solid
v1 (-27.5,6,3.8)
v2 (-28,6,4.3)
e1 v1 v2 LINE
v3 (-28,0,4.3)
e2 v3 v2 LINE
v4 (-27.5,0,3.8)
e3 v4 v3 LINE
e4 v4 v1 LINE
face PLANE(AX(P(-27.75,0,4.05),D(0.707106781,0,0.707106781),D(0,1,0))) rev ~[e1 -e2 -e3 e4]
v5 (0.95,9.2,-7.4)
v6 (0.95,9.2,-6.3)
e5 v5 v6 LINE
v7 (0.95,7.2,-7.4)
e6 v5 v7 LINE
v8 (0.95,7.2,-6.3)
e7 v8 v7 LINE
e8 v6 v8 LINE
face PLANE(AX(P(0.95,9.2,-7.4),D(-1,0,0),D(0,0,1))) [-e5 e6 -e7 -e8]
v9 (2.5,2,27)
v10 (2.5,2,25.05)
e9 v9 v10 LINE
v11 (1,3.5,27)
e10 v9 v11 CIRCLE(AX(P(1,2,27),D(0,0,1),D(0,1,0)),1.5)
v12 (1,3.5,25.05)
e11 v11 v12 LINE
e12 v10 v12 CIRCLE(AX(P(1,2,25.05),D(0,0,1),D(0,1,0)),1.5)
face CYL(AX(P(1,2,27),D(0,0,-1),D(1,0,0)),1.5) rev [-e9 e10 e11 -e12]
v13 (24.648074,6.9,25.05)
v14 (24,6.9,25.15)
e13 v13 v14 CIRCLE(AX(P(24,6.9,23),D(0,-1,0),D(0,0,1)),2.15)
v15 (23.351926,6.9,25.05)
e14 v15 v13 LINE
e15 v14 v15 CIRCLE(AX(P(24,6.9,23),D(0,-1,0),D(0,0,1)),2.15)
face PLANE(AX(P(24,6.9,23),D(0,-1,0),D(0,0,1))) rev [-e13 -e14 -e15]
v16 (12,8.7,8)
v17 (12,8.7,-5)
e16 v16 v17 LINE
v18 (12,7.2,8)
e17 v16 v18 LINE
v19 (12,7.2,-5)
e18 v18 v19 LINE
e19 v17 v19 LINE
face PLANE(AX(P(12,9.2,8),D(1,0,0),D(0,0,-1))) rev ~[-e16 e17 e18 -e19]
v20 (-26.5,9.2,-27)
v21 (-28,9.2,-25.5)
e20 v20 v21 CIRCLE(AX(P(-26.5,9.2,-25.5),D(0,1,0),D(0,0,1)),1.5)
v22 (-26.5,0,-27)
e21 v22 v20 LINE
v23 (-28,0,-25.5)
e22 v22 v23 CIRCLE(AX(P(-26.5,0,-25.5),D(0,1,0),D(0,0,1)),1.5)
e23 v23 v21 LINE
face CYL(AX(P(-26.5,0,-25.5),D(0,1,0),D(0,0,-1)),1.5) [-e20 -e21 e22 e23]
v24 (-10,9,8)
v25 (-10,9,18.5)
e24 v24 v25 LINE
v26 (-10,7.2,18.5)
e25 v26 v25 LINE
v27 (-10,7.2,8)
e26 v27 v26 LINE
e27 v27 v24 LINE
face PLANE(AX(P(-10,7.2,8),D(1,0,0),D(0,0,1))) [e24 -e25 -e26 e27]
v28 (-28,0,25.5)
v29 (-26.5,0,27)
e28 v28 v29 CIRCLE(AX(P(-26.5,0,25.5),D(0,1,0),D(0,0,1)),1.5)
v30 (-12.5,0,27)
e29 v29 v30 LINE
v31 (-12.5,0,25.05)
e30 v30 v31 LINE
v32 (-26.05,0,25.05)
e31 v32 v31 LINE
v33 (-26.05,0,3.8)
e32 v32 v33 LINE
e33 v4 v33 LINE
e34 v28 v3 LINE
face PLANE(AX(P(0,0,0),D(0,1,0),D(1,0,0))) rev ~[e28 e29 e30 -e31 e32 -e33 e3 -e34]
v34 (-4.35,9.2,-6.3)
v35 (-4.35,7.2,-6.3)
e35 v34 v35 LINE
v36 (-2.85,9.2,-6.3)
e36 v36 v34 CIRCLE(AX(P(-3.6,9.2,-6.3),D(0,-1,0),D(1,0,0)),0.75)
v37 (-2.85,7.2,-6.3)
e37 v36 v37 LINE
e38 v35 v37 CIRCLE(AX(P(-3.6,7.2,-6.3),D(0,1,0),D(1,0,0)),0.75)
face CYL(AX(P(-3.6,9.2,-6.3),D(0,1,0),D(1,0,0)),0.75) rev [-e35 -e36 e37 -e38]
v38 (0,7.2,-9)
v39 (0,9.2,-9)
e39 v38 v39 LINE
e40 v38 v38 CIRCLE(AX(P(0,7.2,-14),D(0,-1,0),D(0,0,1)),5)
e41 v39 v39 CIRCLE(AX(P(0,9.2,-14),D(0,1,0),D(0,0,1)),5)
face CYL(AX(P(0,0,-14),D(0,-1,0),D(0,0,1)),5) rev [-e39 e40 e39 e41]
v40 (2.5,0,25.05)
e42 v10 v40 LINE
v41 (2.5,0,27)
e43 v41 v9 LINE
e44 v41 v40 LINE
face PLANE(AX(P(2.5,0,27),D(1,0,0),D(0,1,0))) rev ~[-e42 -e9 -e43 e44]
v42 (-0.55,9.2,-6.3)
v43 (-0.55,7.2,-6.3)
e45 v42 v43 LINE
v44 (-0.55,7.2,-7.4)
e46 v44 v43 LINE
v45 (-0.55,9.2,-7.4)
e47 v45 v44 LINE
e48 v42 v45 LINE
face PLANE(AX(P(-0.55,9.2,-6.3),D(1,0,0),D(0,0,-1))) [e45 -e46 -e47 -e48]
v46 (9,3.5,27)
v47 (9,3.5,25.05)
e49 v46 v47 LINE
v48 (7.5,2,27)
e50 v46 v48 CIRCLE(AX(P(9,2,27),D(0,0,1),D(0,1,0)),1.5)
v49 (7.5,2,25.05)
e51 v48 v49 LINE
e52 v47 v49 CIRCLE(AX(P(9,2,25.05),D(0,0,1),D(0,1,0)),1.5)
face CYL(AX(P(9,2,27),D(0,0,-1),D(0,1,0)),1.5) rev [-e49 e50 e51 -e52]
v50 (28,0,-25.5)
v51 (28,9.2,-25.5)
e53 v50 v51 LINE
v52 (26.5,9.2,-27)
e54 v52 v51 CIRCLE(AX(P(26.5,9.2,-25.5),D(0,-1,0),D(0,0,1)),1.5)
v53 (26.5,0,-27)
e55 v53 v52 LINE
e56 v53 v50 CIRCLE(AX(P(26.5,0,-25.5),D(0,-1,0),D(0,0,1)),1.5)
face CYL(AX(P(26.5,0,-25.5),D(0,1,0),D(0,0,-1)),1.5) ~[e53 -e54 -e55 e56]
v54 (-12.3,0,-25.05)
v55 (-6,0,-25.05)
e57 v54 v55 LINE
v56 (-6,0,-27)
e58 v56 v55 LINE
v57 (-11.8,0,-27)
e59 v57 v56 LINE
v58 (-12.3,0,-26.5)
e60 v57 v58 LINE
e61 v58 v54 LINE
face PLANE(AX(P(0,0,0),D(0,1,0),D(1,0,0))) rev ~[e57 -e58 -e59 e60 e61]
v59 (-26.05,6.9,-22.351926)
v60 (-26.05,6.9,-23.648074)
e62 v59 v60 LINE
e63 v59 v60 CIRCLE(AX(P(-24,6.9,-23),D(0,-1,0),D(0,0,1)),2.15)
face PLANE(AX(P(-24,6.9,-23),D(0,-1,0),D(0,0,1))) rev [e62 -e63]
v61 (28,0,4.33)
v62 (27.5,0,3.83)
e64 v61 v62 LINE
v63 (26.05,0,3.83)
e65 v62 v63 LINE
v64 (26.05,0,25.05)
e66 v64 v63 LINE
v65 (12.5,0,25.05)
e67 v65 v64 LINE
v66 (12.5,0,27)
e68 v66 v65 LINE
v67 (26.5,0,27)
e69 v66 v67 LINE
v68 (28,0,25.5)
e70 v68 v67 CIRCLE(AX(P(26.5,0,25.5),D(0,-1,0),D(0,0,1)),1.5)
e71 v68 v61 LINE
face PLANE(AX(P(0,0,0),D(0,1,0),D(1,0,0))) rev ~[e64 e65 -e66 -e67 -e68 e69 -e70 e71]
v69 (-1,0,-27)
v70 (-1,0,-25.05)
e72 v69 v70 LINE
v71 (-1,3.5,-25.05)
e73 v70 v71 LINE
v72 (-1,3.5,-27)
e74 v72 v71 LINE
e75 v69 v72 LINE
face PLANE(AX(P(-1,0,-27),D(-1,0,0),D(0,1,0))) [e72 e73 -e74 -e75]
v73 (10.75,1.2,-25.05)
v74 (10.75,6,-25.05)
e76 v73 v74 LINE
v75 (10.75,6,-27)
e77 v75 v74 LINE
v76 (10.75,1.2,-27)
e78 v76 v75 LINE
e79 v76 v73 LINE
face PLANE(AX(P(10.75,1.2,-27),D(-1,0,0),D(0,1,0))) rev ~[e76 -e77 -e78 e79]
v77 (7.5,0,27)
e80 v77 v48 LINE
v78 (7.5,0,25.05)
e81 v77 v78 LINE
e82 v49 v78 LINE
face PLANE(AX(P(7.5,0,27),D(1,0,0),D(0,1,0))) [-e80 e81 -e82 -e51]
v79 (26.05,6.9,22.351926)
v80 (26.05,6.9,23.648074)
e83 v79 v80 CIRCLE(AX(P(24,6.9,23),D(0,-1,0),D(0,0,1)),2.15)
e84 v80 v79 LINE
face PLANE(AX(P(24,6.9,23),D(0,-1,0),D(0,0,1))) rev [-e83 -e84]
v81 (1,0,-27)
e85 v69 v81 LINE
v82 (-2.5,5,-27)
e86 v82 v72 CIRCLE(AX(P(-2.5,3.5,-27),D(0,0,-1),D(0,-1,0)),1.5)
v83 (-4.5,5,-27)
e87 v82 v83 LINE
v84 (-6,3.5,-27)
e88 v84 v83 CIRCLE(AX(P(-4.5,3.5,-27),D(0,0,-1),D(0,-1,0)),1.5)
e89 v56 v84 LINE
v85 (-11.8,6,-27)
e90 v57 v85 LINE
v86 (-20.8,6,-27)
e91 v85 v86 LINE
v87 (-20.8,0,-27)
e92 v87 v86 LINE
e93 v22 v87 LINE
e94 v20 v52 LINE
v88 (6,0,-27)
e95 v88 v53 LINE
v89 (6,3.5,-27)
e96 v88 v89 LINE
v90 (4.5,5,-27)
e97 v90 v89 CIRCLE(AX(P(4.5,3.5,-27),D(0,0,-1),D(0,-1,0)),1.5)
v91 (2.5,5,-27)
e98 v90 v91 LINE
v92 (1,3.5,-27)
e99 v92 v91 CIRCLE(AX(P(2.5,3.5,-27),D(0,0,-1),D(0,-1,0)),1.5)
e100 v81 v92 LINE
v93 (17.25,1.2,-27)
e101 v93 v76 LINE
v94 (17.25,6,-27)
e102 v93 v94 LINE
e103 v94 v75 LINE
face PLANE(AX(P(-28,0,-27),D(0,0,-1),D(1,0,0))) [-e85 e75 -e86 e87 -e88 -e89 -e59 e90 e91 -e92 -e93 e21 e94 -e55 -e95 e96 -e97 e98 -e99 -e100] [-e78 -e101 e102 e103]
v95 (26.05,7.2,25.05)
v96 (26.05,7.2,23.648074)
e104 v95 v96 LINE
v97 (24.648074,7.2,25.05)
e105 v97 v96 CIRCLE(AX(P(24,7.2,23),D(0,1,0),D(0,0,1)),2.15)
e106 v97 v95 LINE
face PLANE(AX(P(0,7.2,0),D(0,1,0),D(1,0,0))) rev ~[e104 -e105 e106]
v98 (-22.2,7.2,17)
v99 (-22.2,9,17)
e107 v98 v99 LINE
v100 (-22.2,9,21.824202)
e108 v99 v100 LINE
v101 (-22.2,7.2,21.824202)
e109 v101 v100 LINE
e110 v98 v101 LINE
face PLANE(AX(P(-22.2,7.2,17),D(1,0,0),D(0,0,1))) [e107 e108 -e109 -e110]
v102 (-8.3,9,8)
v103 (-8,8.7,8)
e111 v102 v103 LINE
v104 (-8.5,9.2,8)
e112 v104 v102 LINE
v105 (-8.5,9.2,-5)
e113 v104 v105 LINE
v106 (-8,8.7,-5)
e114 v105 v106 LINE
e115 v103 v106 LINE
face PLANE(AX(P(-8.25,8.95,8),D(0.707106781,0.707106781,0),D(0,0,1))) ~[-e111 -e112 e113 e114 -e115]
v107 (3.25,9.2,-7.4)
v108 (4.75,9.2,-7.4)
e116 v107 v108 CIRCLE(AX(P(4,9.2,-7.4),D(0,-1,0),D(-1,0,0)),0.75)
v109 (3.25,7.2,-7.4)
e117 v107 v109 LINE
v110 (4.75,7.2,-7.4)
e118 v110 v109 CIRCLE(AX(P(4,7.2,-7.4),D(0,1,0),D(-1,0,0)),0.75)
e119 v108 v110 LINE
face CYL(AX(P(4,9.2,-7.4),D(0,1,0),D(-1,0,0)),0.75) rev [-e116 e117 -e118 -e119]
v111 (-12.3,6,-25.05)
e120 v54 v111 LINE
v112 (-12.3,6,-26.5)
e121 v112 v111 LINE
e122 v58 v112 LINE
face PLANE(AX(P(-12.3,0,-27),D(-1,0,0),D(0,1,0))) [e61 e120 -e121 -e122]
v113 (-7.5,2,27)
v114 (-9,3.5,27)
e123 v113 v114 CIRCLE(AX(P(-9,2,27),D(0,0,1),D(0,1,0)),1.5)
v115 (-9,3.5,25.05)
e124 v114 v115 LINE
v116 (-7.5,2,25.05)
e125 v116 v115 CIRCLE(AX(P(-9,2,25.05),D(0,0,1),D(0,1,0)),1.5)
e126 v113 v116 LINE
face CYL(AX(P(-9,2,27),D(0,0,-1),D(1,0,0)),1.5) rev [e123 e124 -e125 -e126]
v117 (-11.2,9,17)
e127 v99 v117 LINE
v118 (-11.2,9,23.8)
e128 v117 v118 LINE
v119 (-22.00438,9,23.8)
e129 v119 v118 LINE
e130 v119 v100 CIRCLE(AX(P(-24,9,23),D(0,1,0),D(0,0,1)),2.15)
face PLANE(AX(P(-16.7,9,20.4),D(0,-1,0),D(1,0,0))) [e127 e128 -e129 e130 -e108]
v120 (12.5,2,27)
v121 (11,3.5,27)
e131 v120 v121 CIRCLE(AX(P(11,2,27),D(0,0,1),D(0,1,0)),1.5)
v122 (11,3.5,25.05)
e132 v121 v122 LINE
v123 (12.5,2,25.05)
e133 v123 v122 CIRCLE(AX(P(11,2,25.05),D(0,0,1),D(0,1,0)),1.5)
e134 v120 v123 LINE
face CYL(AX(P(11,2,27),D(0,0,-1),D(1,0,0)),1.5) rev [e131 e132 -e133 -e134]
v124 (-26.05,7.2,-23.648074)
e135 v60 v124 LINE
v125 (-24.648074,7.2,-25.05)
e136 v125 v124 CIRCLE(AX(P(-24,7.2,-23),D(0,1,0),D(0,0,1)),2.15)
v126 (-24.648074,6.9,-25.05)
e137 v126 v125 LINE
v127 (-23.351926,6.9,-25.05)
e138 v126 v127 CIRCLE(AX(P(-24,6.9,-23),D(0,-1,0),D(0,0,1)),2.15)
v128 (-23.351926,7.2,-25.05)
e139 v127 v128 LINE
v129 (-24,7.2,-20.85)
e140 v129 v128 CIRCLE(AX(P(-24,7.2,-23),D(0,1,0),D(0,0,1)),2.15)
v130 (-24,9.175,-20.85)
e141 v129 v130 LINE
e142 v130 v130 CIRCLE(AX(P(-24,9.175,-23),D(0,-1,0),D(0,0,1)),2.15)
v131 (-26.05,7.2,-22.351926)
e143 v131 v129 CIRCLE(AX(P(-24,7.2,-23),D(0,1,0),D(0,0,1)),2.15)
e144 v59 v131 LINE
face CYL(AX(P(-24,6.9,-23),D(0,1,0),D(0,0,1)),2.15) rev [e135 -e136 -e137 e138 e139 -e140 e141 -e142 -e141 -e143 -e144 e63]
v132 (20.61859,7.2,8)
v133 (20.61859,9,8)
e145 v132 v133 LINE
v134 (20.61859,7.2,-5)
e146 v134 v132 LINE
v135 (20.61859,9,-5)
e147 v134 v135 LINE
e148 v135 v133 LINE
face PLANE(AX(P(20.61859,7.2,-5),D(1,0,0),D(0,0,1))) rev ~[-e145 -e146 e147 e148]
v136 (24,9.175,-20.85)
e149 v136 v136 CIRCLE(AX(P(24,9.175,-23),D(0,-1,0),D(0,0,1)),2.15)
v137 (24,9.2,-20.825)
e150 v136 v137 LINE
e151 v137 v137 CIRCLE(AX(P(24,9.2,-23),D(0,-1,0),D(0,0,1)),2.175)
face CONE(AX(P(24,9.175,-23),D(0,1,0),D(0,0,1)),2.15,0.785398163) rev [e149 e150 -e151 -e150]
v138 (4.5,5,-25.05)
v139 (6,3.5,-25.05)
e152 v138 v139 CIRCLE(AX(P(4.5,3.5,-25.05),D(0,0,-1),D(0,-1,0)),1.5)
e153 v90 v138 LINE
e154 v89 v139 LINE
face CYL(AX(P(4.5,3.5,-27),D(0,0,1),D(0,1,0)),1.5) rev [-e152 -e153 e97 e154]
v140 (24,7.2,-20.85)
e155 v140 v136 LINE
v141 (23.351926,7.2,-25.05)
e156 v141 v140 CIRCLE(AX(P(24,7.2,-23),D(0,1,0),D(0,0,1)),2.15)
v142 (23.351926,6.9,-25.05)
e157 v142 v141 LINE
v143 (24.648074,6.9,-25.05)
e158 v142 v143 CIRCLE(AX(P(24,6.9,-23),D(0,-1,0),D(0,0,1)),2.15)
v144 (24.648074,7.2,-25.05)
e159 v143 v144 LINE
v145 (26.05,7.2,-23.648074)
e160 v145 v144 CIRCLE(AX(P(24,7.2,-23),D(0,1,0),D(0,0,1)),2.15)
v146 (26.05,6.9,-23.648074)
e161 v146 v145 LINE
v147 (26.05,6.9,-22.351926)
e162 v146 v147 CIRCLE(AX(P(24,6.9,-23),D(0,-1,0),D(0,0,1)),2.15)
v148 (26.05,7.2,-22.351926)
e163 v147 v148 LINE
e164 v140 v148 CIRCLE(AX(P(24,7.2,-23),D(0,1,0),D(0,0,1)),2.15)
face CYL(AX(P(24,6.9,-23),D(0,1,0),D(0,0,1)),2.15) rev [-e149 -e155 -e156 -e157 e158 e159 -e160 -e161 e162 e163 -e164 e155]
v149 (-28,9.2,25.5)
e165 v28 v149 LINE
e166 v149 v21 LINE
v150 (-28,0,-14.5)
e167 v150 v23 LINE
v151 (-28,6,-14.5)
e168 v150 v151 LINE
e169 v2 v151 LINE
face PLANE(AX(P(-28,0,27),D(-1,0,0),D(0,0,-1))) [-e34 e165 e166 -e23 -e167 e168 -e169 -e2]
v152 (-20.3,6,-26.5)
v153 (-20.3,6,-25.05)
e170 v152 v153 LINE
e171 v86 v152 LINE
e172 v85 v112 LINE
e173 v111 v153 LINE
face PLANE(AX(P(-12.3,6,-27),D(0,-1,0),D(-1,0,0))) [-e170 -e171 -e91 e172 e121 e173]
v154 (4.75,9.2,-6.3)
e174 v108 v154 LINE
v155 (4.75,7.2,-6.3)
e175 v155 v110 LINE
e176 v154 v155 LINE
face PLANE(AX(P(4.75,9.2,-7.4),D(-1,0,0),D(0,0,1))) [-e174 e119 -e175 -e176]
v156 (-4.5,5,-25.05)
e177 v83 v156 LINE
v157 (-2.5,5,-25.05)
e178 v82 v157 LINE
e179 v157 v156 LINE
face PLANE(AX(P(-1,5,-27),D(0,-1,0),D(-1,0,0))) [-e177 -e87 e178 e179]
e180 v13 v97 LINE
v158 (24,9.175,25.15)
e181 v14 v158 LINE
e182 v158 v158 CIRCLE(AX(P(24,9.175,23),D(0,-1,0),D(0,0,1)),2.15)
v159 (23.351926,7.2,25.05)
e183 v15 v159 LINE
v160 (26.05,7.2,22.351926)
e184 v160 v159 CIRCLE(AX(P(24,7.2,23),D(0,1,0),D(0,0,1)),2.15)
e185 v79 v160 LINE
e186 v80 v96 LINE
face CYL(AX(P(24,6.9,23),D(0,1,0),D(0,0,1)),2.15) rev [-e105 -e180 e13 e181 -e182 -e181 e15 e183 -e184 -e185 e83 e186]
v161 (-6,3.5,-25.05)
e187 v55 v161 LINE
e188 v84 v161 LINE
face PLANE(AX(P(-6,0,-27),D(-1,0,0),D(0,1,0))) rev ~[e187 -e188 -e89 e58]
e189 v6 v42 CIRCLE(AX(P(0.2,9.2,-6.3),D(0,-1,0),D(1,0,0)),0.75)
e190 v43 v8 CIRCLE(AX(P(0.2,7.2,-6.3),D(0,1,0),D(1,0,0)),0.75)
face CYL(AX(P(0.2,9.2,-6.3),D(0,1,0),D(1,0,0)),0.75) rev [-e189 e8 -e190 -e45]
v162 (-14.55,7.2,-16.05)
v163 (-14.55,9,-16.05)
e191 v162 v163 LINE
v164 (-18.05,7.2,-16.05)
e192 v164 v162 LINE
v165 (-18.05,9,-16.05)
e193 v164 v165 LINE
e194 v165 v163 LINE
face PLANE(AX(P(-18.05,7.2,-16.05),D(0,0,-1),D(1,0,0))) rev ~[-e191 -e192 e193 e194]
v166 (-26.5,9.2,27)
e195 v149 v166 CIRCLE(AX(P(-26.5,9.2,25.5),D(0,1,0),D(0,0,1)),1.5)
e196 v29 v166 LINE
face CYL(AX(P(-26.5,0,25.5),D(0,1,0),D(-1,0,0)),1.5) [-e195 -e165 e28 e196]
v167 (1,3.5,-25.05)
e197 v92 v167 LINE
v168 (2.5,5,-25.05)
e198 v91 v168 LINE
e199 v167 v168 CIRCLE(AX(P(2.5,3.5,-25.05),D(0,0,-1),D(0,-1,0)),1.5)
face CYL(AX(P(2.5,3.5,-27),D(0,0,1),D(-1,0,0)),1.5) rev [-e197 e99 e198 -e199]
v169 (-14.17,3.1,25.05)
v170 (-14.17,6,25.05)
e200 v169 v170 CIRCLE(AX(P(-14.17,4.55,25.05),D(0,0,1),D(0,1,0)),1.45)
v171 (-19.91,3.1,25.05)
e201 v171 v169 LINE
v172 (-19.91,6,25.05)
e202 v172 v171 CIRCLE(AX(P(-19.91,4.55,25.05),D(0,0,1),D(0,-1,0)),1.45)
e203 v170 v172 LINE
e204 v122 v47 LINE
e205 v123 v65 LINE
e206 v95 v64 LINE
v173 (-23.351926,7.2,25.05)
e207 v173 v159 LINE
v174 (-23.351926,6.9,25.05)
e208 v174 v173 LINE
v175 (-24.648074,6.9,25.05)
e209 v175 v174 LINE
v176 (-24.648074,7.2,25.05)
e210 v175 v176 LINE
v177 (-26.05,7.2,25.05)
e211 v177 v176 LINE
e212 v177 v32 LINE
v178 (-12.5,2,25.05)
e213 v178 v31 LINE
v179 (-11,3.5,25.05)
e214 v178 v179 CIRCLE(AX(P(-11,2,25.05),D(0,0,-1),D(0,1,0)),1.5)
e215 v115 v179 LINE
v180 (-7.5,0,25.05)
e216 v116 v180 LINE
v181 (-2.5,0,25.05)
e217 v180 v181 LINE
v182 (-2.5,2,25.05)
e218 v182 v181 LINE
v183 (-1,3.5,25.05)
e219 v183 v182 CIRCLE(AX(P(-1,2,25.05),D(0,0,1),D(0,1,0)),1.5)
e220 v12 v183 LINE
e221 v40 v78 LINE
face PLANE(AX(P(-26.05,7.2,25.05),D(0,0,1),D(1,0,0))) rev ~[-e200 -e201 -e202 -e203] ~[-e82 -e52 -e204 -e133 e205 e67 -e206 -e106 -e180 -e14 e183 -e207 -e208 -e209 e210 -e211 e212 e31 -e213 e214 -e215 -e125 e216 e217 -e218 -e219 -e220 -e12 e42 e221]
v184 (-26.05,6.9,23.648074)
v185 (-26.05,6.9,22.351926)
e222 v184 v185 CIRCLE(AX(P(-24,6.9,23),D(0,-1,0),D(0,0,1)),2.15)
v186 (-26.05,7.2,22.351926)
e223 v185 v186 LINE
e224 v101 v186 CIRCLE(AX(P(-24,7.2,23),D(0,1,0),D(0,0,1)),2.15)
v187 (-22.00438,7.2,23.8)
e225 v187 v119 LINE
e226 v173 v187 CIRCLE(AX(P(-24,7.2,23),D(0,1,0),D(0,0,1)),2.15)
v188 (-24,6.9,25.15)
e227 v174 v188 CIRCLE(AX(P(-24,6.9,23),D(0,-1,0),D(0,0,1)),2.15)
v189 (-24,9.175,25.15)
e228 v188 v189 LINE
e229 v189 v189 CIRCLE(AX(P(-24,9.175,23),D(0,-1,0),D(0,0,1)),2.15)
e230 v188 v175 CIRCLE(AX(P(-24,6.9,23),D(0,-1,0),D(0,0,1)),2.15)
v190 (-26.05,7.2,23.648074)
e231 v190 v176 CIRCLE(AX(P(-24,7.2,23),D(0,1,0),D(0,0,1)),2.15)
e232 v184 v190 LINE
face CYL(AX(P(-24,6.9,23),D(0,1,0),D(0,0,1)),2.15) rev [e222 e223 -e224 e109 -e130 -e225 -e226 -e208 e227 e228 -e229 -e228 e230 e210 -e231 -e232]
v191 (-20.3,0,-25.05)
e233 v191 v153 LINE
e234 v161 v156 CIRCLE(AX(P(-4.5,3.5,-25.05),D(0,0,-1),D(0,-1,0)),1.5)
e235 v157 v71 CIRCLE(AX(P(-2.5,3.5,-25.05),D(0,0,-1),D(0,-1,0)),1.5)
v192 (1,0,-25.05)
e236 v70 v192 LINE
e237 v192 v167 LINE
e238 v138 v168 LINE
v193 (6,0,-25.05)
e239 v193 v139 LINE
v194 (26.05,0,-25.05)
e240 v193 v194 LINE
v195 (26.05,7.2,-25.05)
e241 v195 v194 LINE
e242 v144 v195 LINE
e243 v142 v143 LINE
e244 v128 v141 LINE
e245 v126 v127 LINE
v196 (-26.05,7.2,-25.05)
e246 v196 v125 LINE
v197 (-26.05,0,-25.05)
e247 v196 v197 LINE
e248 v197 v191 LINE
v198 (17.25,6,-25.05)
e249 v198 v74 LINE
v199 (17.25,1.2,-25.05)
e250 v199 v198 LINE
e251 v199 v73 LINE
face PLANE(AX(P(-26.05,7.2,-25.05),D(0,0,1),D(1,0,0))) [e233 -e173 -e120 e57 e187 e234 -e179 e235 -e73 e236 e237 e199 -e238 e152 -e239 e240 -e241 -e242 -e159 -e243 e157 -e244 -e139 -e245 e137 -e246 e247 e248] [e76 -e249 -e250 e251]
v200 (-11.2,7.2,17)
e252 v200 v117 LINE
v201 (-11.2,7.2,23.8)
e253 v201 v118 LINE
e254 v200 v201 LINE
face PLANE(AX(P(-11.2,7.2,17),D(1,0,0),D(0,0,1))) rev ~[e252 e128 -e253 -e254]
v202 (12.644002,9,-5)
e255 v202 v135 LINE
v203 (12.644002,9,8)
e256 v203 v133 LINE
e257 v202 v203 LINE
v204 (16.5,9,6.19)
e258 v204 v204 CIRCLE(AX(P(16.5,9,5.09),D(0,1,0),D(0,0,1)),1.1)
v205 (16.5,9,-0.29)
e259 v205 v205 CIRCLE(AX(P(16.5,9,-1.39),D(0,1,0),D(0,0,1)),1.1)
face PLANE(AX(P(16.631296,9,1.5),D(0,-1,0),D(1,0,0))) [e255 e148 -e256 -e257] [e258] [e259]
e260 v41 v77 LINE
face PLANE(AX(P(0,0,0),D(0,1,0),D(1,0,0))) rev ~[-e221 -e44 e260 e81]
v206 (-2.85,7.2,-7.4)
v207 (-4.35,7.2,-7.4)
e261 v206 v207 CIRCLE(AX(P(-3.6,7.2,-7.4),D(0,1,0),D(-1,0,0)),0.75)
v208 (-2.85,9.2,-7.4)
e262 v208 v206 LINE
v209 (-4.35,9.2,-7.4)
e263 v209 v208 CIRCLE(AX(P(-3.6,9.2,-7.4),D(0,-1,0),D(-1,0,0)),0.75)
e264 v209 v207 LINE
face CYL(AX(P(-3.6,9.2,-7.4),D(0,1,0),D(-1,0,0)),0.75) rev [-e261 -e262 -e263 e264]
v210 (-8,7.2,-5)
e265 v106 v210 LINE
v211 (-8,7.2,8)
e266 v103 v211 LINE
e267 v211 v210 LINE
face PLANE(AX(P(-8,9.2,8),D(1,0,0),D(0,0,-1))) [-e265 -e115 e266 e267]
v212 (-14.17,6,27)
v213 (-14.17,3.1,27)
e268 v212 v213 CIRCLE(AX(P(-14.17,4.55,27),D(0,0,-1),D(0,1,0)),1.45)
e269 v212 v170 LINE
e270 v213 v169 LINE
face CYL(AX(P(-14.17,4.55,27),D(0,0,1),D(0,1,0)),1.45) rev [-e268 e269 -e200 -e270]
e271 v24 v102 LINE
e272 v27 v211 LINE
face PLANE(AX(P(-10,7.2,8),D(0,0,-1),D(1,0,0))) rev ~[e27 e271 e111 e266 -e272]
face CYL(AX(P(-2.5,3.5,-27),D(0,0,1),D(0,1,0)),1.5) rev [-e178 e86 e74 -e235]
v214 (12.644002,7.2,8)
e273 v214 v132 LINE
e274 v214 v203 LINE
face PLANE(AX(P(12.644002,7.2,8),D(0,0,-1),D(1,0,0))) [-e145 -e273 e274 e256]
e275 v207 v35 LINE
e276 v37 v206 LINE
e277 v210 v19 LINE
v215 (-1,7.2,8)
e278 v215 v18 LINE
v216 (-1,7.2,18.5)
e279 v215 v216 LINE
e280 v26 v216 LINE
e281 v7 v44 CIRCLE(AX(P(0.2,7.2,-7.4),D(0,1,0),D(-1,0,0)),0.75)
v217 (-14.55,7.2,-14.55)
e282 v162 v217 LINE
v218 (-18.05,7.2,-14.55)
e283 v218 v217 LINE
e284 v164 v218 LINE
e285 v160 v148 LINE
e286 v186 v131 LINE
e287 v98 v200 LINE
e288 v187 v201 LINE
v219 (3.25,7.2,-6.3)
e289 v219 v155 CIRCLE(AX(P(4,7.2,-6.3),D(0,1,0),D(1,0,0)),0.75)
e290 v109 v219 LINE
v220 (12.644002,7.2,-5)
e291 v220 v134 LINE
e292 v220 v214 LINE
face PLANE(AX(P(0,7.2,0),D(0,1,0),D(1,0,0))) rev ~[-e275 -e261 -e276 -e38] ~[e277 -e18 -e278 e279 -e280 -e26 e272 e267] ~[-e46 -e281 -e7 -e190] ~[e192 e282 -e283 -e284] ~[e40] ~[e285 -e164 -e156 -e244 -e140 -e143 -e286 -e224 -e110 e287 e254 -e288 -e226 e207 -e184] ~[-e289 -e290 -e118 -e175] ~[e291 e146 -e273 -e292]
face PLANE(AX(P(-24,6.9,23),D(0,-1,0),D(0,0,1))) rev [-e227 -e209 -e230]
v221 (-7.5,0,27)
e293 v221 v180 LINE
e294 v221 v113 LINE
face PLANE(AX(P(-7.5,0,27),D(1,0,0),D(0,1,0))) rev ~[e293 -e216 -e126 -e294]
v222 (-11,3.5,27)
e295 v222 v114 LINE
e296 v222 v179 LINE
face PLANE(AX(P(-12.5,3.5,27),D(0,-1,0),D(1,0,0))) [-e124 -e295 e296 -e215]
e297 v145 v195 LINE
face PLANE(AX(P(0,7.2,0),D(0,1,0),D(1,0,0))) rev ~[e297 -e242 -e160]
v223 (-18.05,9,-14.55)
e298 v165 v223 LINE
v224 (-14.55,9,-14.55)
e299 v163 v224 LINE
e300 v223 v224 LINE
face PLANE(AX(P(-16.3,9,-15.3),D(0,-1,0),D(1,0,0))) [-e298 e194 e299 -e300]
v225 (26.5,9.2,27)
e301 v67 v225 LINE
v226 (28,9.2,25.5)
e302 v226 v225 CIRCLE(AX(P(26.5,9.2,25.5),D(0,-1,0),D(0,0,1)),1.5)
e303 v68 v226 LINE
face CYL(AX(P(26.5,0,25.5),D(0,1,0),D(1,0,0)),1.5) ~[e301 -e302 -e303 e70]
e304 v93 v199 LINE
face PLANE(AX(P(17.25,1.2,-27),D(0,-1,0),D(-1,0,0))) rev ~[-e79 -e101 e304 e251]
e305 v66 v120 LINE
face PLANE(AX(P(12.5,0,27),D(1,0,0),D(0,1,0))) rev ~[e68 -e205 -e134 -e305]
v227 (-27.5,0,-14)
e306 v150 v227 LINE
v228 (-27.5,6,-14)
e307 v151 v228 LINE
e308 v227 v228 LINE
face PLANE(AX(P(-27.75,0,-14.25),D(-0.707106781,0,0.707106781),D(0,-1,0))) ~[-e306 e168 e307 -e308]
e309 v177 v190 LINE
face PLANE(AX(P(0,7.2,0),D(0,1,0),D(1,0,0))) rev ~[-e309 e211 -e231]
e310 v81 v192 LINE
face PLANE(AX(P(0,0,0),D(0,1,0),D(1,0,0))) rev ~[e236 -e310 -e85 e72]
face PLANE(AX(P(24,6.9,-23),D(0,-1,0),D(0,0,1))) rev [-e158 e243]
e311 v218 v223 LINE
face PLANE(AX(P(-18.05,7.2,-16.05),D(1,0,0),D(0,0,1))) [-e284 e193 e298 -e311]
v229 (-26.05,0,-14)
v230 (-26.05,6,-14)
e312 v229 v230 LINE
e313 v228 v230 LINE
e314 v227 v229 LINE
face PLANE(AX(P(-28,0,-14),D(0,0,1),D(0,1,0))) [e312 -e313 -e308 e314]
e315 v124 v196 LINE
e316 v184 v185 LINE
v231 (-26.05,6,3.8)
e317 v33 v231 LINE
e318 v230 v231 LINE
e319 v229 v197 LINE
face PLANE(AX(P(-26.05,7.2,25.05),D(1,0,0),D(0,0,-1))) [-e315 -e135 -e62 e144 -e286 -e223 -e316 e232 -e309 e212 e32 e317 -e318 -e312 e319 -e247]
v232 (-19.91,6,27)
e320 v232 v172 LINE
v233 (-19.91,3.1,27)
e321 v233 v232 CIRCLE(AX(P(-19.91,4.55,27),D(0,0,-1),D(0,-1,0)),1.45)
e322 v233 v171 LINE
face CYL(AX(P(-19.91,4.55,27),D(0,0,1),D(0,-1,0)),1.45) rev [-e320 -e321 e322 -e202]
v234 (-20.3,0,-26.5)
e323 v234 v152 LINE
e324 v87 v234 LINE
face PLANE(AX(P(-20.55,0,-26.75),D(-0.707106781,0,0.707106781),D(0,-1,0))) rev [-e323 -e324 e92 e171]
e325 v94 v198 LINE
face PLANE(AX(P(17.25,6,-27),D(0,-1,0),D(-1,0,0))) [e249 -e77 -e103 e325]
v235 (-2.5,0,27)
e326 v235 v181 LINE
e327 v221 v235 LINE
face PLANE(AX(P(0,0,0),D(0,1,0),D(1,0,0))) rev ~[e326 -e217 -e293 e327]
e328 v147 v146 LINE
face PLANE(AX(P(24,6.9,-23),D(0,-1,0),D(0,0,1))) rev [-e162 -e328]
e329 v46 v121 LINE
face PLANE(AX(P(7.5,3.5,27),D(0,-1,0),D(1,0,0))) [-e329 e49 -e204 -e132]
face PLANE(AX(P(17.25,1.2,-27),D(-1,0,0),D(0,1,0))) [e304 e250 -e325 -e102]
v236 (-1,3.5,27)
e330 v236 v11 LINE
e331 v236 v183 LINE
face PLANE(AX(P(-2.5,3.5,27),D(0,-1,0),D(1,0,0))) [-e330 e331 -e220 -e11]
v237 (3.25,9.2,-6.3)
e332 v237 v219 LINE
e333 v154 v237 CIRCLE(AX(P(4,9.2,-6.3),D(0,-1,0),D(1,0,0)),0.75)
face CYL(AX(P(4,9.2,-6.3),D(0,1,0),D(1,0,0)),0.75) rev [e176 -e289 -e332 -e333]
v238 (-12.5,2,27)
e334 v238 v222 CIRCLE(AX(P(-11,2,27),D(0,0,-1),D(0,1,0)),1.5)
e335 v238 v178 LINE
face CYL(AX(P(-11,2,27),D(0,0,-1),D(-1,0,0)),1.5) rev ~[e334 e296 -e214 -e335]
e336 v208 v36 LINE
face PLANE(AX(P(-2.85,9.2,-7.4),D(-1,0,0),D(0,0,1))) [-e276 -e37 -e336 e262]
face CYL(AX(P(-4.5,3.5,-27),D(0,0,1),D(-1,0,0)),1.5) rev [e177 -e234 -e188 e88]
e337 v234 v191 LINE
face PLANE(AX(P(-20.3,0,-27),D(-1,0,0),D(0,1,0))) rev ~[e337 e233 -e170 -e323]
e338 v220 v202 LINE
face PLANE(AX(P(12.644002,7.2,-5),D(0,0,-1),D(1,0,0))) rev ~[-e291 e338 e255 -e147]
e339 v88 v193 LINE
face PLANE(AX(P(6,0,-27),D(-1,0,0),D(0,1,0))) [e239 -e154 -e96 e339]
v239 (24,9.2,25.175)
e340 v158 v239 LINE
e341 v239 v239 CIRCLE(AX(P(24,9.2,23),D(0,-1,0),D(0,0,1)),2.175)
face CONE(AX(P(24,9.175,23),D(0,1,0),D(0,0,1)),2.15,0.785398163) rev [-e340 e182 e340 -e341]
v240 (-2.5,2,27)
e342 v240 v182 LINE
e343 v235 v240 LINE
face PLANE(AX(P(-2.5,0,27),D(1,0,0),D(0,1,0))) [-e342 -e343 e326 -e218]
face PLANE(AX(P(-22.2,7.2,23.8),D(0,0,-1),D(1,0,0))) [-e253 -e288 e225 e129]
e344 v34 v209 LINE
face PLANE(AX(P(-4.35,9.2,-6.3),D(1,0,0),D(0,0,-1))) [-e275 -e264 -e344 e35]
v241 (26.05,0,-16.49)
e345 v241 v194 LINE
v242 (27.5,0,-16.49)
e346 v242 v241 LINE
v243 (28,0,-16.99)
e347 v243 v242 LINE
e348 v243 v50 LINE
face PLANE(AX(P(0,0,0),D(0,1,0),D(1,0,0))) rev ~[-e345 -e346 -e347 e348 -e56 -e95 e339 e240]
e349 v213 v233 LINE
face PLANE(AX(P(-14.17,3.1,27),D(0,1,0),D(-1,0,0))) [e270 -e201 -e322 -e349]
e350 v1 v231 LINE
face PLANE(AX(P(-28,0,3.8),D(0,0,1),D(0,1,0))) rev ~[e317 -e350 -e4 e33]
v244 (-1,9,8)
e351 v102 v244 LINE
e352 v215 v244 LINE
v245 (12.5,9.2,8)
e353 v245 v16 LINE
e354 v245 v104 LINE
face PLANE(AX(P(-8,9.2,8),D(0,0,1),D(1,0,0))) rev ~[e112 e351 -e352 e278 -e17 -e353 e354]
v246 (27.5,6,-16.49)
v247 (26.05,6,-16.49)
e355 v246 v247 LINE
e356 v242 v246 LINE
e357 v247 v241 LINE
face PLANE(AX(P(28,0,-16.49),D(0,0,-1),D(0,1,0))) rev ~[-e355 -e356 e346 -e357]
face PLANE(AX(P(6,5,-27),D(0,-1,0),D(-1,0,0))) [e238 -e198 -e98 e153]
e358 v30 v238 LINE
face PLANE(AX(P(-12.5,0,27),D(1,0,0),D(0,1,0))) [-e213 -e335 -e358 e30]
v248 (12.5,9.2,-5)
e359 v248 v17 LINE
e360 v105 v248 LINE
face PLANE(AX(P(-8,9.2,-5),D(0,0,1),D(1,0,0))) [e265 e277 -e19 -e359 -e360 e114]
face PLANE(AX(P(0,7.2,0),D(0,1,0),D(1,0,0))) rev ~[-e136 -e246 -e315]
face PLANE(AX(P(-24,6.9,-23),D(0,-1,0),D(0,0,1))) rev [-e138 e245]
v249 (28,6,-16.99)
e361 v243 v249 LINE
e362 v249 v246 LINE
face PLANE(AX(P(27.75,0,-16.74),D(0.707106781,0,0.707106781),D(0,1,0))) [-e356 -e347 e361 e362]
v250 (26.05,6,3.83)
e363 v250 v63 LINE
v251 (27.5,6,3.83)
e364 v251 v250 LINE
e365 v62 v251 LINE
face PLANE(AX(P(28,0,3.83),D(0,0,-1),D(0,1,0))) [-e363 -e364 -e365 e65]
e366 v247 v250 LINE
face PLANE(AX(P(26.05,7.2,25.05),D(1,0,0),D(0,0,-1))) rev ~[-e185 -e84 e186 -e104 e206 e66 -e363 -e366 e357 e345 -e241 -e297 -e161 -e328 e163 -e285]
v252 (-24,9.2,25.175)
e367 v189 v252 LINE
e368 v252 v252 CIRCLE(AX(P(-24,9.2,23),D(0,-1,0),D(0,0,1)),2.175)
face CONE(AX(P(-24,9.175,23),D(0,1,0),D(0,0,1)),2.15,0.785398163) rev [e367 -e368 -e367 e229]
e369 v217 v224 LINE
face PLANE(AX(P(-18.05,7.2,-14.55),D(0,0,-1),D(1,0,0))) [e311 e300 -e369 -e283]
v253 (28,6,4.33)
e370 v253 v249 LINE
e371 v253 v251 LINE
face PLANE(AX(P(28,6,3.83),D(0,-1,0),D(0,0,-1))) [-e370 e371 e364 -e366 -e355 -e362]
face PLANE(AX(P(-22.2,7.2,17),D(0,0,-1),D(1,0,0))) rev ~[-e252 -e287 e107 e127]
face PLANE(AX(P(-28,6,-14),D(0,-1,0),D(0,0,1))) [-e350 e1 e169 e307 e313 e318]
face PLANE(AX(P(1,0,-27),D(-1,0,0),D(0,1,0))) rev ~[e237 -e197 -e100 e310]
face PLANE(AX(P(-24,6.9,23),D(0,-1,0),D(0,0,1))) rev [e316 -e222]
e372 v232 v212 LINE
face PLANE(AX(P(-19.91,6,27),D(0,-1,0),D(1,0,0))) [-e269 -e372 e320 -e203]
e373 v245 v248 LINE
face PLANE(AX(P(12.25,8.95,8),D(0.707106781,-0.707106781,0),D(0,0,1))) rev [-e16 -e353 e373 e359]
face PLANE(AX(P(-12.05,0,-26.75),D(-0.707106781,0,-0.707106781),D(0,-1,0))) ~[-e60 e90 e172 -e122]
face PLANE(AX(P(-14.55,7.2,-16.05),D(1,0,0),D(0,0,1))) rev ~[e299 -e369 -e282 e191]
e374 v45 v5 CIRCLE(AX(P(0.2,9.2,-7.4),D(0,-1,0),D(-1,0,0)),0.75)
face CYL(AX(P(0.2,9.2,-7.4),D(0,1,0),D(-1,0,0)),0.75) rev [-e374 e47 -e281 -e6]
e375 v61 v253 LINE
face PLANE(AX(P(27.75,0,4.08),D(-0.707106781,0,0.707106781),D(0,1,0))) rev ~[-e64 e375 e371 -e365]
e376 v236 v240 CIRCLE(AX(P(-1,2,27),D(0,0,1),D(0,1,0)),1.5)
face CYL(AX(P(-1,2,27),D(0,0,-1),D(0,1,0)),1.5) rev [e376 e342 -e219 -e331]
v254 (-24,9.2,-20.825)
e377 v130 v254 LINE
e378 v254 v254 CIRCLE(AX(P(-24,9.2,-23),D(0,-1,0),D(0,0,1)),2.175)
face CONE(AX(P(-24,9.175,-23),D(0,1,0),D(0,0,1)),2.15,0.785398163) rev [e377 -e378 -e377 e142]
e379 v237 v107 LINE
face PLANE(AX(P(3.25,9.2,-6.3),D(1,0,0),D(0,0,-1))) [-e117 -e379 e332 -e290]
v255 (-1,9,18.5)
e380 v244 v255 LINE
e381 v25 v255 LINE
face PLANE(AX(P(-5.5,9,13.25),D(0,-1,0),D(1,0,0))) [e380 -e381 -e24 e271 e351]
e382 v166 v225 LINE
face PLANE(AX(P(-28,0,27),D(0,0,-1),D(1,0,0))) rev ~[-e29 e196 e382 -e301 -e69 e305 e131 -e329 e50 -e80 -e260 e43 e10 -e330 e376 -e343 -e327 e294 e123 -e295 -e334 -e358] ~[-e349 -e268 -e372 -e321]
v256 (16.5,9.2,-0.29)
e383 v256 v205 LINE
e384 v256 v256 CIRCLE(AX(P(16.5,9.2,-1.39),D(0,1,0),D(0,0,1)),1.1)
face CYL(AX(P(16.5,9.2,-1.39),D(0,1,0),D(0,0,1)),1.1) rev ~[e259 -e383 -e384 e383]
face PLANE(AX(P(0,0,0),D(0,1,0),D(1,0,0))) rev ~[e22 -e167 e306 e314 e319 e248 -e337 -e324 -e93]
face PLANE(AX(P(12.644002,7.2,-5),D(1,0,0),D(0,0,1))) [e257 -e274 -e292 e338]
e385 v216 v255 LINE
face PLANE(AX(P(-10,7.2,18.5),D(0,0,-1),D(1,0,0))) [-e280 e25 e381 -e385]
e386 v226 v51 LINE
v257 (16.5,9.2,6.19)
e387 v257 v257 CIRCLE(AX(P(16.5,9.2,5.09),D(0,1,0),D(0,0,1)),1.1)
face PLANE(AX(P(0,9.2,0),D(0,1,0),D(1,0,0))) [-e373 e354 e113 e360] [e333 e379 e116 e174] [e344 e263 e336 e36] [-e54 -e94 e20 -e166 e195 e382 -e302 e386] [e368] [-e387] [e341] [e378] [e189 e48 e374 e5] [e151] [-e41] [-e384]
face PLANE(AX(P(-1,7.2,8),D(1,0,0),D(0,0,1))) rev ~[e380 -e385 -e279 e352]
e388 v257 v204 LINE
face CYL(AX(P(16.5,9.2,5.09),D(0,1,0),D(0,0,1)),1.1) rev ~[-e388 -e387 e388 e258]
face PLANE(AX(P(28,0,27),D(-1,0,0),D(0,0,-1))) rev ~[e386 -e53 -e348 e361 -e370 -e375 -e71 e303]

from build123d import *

# Parameters (mm, degrees)
SKETCH_1_W                  = 56
SKETCH_1_H                  = 54
SKETCH_1_R                  = 5
EXTRUDE_1_DEPTH             = 9.2
HOLE_WIZARD_M2_1_AT_2_COUNT = 2
HOLE_WIZARD_M2_1_AT_2_PITCH = 48
HOLE_WIZARD_M2_1_AT_3_COUNT = 2
HOLE_WIZARD_M2_1_AT_3_PITCH = 46
HOLE_WIZARD_M2_1_AT_4_COUNT = 2
HOLE_WIZARD_M2_1_AT_4_PITCH = 66.483080554
SKETCH_13_W                 = 52.1
SKETCH_13_H                 = 50.1
CUT_EXTRUDE_1_DEPTH         = 40.558058597
SKETCH_14_W                 = 20
SKETCH_14_H                 = 13
CUT_EXTRUDE_2_DEPTH         = 40.970489114
SKETCH_15_R                 = 1.1
CUT_EXTRUDE_4_DEPTH         = 40.970489114
CUT_EXTRUDE_7_REACH         = 63.519
SKETCH_18_W                 = 5
SKETCH_18_H                 = 5
CUT_EXTRUDE_8_REACH         = 64.846
SKETCH_20_W                 = 17.8
SKETCH_20_H                 = 6
CUT_EXTRUDE_9_REACH         = 64.846
SKETCH_23_W                 = 20.32
SKETCH_23_H                 = 6
CHAMFER_1_SIZE              = 0.5
CUT_EXTRUDE_10_REACH        = 63.519
FILLET_4_R                  = 1.5
CHAMFER_2_SIZE              = 0.5
CHAMFER_3_SIZE              = 0.5
CUT_EXTRUDE_11_REACH        = 63.519
SKETCH_25_W                 = 5
SKETCH_25_H                 = 3.5
FILLET_5_R                  = 1.5
CUT_EXTRUDE_12_REACH        = 63.519
SKETCH_30_W                 = 6.5
SKETCH_30_H                 = 4.8
SKETCH_30_W_2               = 8
SKETCH_30_H_2               = 6
CUT_EXTRUDE_13_REACH        = 41.97
CHAMFER_4_SIZE              = 0.5
SKETCH_35_W                 = 7.974588705
SKETCH_35_H                 = 13
SKETCH_35_W_2               = 9
SKETCH_35_H_2               = 10.5
SKETCH_35_W_3               = 11
SKETCH_35_H_3               = 6.8
SKETCH_35_W_4               = 3.5
SKETCH_35_H_4               = 1.5
CUT_EXTRUDE_14_DEPTH        = 1.8
FILLET_6_R                  = 1.5


with BuildPart() as part:
    # 草图1 → 凸台-拉伸1 (new body)
    with BuildSketch(Plane(origin=(0, 0, 0), x_dir=(1, 0, 0), z_dir=(0, 1, 0))):
        Rectangle(SKETCH_1_W, SKETCH_1_H)
        with Locations(Location((0, 14, 0), (0, 0, 270))):
            Circle(SKETCH_1_R, mode=Mode.SUBTRACT)
    extrude(amount=EXTRUDE_1_DEPTH)

    # 草图6 → M2 六角圆柱头螺钉的柱形沉头孔1 (revolve, cut)
    with BuildSketch(Plane(origin=(-24, 9.2, -23), x_dir=(0, 0, 1), z_dir=(1, 0, 0))):
        Polygon((0, 0), (0, 9.2), (1.3, 9.2), (1.3, 2.3), (2.15, 2.3), (2.15, 0.025), (2.175, 0), align=None)
    hole_wizard_m2_1 = revolve(axis=Axis((-24, 15.55, -23), (0, -1, 0)), mode=Mode.SUBTRACT)

    # M2 六角圆柱头螺钉的柱形沉头孔1 at 2: M2 六角圆柱头螺钉的柱形沉头孔1 ×2
    with Locations(*[(i * HOLE_WIZARD_M2_1_AT_2_PITCH, 0, 0) for i in range(1, HOLE_WIZARD_M2_1_AT_2_COUNT)]):
        add(hole_wizard_m2_1, mode=Mode.SUBTRACT)

    # M2 六角圆柱头螺钉的柱形沉头孔1 at 3: M2 六角圆柱头螺钉的柱形沉头孔1 ×2
    with Locations(*[(0, 0, i * HOLE_WIZARD_M2_1_AT_3_PITCH) for i in range(1, HOLE_WIZARD_M2_1_AT_3_COUNT)]):
        add(hole_wizard_m2_1, mode=Mode.SUBTRACT)

    # M2 六角圆柱头螺钉的柱形沉头孔1 at 4: M2 六角圆柱头螺钉的柱形沉头孔1 ×2
    with Locations(*[Vector(0.7219882051154243, 0, 0.6919053632356149) * (i * HOLE_WIZARD_M2_1_AT_4_PITCH) for i in range(1, HOLE_WIZARD_M2_1_AT_4_COUNT)]):
        add(hole_wizard_m2_1, mode=Mode.SUBTRACT)

    # 草图13 → 切除-拉伸1 (cut, through all)
    with BuildSketch(Plane(origin=(0, 7.2, 0), x_dir=(1, 0, 0), z_dir=(0, 1, 0))):
        Rectangle(SKETCH_13_W, SKETCH_13_H)
    extrude(amount=-CUT_EXTRUDE_1_DEPTH, mode=Mode.SUBTRACT)

    # 草图14 → 切除-拉伸2 (cut, through all)
    with BuildSketch(Plane(origin=(0, 9.2, 0), x_dir=(1, 0, 0), z_dir=(0, 1, 0))):
        with Locations((2, -1.5)):
            Rectangle(SKETCH_14_W, SKETCH_14_H)
    extrude(amount=-CUT_EXTRUDE_2_DEPTH, mode=Mode.SUBTRACT)

    # 草图15 → 切除-拉伸4 (cut, through all)
    with BuildSketch(Plane(origin=(0, 9.2, 0), x_dir=(1, 0, 0), z_dir=(0, 1, 0))):
        with Locations(Location((16.5, 1.39, 0), (0, 0, 270))):
            Circle(SKETCH_15_R)
        with Locations(Location((16.5, -5.09, 0), (0, 0, 270))):
            Circle(SKETCH_15_R)
    extrude(amount=-CUT_EXTRUDE_4_DEPTH, mode=Mode.SUBTRACT)

    # 草图18 → 切除-拉伸7 (cut, up to next)
    with BuildSketch(Plane(origin=(0, 0, -27), x_dir=(-1, 0, 0), z_dir=(0, 0, -1)), mode=Mode.PRIVATE) as cut_extrude_7_sk1:
        with Locations((-3.5, 2.5)):
            Rectangle(SKETCH_18_W, SKETCH_18_H)
    cut_extrude_7_tool1 = extrude(cut_extrude_7_sk1.sketch, amount=-CUT_EXTRUDE_7_REACH, mode=Mode.PRIVATE) & part.part
    # 草图18 → 切除-拉伸7 (cut, up to next)
    with BuildSketch(Plane(origin=(0, 0, -27), x_dir=(-1, 0, 0), z_dir=(0, 0, -1)), mode=Mode.PRIVATE) as cut_extrude_7_sk2:
        with Locations((3.5, 2.5)):
            Rectangle(SKETCH_18_W, SKETCH_18_H)
    cut_extrude_7_tool2 = extrude(cut_extrude_7_sk2.sketch, amount=-CUT_EXTRUDE_7_REACH, mode=Mode.PRIVATE) & part.part
    add(cut_extrude_7_tool1.solids().sort_by_distance((3.5, 2.5, -27))[0], mode=Mode.SUBTRACT)
    add(cut_extrude_7_tool2.solids().sort_by_distance((-3.5, 2.5, -27))[0], mode=Mode.SUBTRACT)

    # 草图20 → 切除-拉伸8 (cut, up to next)
    with BuildSketch(Plane.ZY.offset(28), mode=Mode.PRIVATE) as cut_extrude_8_sk1:
        with Locations((-5.1, 3)):
            Rectangle(SKETCH_20_W, SKETCH_20_H)
    cut_extrude_8_tool1 = extrude(cut_extrude_8_sk1.sketch, amount=-CUT_EXTRUDE_8_REACH, mode=Mode.PRIVATE) & part.part
    add(cut_extrude_8_tool1.solids().sort_by_distance((-28, 3, -5.1))[0], mode=Mode.SUBTRACT)

    # 草图23 → 切除-拉伸9 (cut, up to next)
    with BuildSketch(Plane(origin=(28, 0, 0), x_dir=(0, 0, -1), z_dir=(1, 0, 0)), mode=Mode.PRIVATE) as cut_extrude_9_sk1:
        with Locations((6.33, 3)):
            Rectangle(SKETCH_23_W, SKETCH_23_H)
    cut_extrude_9_tool1 = extrude(cut_extrude_9_sk1.sketch, amount=-CUT_EXTRUDE_9_REACH, mode=Mode.PRIVATE) & part.part
    add(cut_extrude_9_tool1.solids().sort_by_distance((28, 3, -6.33))[0], mode=Mode.SUBTRACT)

    # 倒角1
    chamfer_1_edges = [part.edges().sort_by_distance(p)[0] for p in [
        (-8, 9.2, 1.5),
        (12, 9.2, 1.5),
    ]]
    chamfer(chamfer_1_edges, length=CHAMFER_1_SIZE)

    # 草图24 → 切除-拉伸10 (cut, up to next)
    with BuildSketch(Plane.XY.offset(27), mode=Mode.PRIVATE) as cut_extrude_10_sk1:
        with BuildLine():
            Line((-19.91, 6), (-14.17, 6))
            ThreePointArc((-14.17, 6), (-12.72, 4.55), (-14.17, 3.1))
            Line((-14.17, 3.1), (-19.91, 3.1))
            ThreePointArc((-19.91, 3.1), (-21.36, 4.55), (-19.91, 6))
        make_face()
    cut_extrude_10_tool1 = extrude(cut_extrude_10_sk1.sketch, amount=-CUT_EXTRUDE_10_REACH, mode=Mode.PRIVATE) & part.part
    add(cut_extrude_10_tool1.solids().sort_by_distance((-17.04, 4.55, 27))[0], mode=Mode.SUBTRACT)

    # 圆角4
    fillet_4_edges = [part.edges().sort_by_distance(p)[0] for p in [
        (1, 5, -26.025),
        (6, 5, -26.025),
        (-6, 5, -26.025),
        (-1, 5, -26.025),
    ]]
    fillet(fillet_4_edges, radius=FILLET_4_R)

    # 倒角2
    chamfer_2_edges = [part.edges().sort_by_distance(p)[0] for p in [
        (28, 3, 3.83),
        (28, 3, -16.49),
    ]]
    chamfer(chamfer_2_edges, length=CHAMFER_2_SIZE)

    # 倒角3
    chamfer_3_edges = [part.edges().sort_by_distance(p)[0] for p in [
        (-28, 3, 3.8),
        (-28, 3, -14),
    ]]
    chamfer(chamfer_3_edges, length=CHAMFER_3_SIZE)

    # 草图25 → 切除-拉伸11 (cut, up to next)
    with BuildSketch(Plane.XY.offset(27), mode=Mode.PRIVATE) as cut_extrude_11_sk1:
        with Locations((-10, 1.75)):
            Rectangle(SKETCH_25_W, SKETCH_25_H)
    cut_extrude_11_tool1 = extrude(cut_extrude_11_sk1.sketch, amount=-CUT_EXTRUDE_11_REACH, mode=Mode.PRIVATE) & part.part
    # 草图25 → 切除-拉伸11 (cut, up to next)
    with BuildSketch(Plane.XY.offset(27), mode=Mode.PRIVATE) as cut_extrude_11_sk2:
        with Locations((10, 1.75)):
            Rectangle(SKETCH_25_W, SKETCH_25_H)
    cut_extrude_11_tool2 = extrude(cut_extrude_11_sk2.sketch, amount=-CUT_EXTRUDE_11_REACH, mode=Mode.PRIVATE) & part.part
    # 草图25 → 切除-拉伸11 (cut, up to next)
    with BuildSketch(Plane.XY.offset(27), mode=Mode.PRIVATE) as cut_extrude_11_sk3:
        with Locations((0, 1.75)):
            Rectangle(SKETCH_25_W, SKETCH_25_H)
    cut_extrude_11_tool3 = extrude(cut_extrude_11_sk3.sketch, amount=-CUT_EXTRUDE_11_REACH, mode=Mode.PRIVATE) & part.part
    add(cut_extrude_11_tool1.solids().sort_by_distance((-10, 1.75, 27))[0], mode=Mode.SUBTRACT)
    add(cut_extrude_11_tool2.solids().sort_by_distance((10, 1.75, 27))[0], mode=Mode.SUBTRACT)
    add(cut_extrude_11_tool3.solids().sort_by_distance((0, 1.75, 27))[0], mode=Mode.SUBTRACT)

    # 圆角5
    fillet_5_edges = [part.edges().sort_by_distance(p)[0] for p in [
        (-12.5, 3.5, 26.025),
        (-7.5, 3.5, 26.025),
        (12.5, 3.5, 26.025),
        (7.5, 3.5, 26.025),
        (-2.5, 3.5, 26.025),
        (2.5, 3.5, 26.025),
    ]]
    fillet(fillet_5_edges, radius=FILLET_5_R)

    # 草图30 → 切除-拉伸12 (cut, up to next)
    with BuildSketch(Plane(origin=(0, 0, -27), x_dir=(-1, 0, 0), z_dir=(0, 0, -1)), mode=Mode.PRIVATE) as cut_extrude_12_sk1:
        with Locations((-14, 3.6)):
            Rectangle(SKETCH_30_W, SKETCH_30_H)
    cut_extrude_12_tool1 = extrude(cut_extrude_12_sk1.sketch, amount=-CUT_EXTRUDE_12_REACH, mode=Mode.PRIVATE) & part.part
    # 草图30 → 切除-拉伸12 (cut, up to next)
    with BuildSketch(Plane(origin=(0, 0, -27), x_dir=(-1, 0, 0), z_dir=(0, 0, -1)), mode=Mode.PRIVATE) as cut_extrude_12_sk2:
        with Locations((16.3, 3)):
            Rectangle(SKETCH_30_W_2, SKETCH_30_H_2)
    cut_extrude_12_tool2 = extrude(cut_extrude_12_sk2.sketch, amount=-CUT_EXTRUDE_12_REACH, mode=Mode.PRIVATE) & part.part
    add(cut_extrude_12_tool1.solids().sort_by_distance((14, 3.6, -27))[0], mode=Mode.SUBTRACT)
    add(cut_extrude_12_tool2.solids().sort_by_distance((-16.3, 3, -27))[0], mode=Mode.SUBTRACT)

    # 草图33 → 切除-拉伸13 (cut, up to next)
    with BuildSketch(Plane(origin=(0, 9.2, 0), x_dir=(1, 0, 0), z_dir=(0, 1, 0)), mode=Mode.PRIVATE) as cut_extrude_13_sk1:
        with BuildLine():
            Line((-2.85, 7.4), (-2.85, 6.3))
            ThreePointArc((-2.85, 6.3), (-3.6, 5.55), (-4.35, 6.3))
            Line((-4.35, 6.3), (-4.35, 7.4))
            ThreePointArc((-4.35, 7.4), (-3.6, 8.15), (-2.85, 7.4))
        make_face()
    cut_extrude_13_tool1 = extrude(cut_extrude_13_sk1.sketch, amount=-CUT_EXTRUDE_13_REACH, mode=Mode.PRIVATE) & part.part
    # 草图33 → 切除-拉伸13 (cut, up to next)
    with BuildSketch(Plane(origin=(0, 9.2, 0), x_dir=(1, 0, 0), z_dir=(0, 1, 0)), mode=Mode.PRIVATE) as cut_extrude_13_sk2:
        with BuildLine():
            Line((0.95, 7.4), (0.95, 6.3))
            ThreePointArc((0.95, 6.3), (0.2, 5.55), (-0.55, 6.3))
            Line((-0.55, 6.3), (-0.55, 7.4))
            ThreePointArc((-0.55, 7.4), (0.2, 8.15), (0.95, 7.4))
        make_face()
    cut_extrude_13_tool2 = extrude(cut_extrude_13_sk2.sketch, amount=-CUT_EXTRUDE_13_REACH, mode=Mode.PRIVATE) & part.part
    # 草图33 → 切除-拉伸13 (cut, up to next)
    with BuildSketch(Plane(origin=(0, 9.2, 0), x_dir=(1, 0, 0), z_dir=(0, 1, 0)), mode=Mode.PRIVATE) as cut_extrude_13_sk3:
        with BuildLine():
            Line((4.75, 7.4), (4.75, 6.3))
            ThreePointArc((4.75, 6.3), (4, 5.55), (3.25, 6.3))
            Line((3.25, 6.3), (3.25, 7.4))
            ThreePointArc((3.25, 7.4), (4, 8.15), (4.75, 7.4))
        make_face()
    cut_extrude_13_tool3 = extrude(cut_extrude_13_sk3.sketch, amount=-CUT_EXTRUDE_13_REACH, mode=Mode.PRIVATE) & part.part
    add(cut_extrude_13_tool1.solids().sort_by_distance((-3.6, 9.2, -6.85))[0], mode=Mode.SUBTRACT)
    add(cut_extrude_13_tool2.solids().sort_by_distance((0.2, 9.2, -6.85))[0], mode=Mode.SUBTRACT)
    add(cut_extrude_13_tool3.solids().sort_by_distance((4, 9.2, -6.85))[0], mode=Mode.SUBTRACT)

    # 倒角4
    chamfer_4_edges = [part.edges().sort_by_distance(p)[0] for p in [
        (-12.3, 3, -27),
        (-20.3, 3, -27),
    ]]
    chamfer(chamfer_4_edges, length=CHAMFER_4_SIZE)

    # 草图35 → 切除-拉伸14 (cut)
    with BuildSketch(Plane.XZ.offset(-7.2)):
        with Locations((16.631295972, 1.5)):
            Rectangle(SKETCH_35_W, SKETCH_35_H)
        with Locations((-5.5, 13.25)):
            Rectangle(SKETCH_35_W_2, SKETCH_35_H_2)
        with Locations((-16.7, 20.4)):
            Rectangle(SKETCH_35_W_3, SKETCH_35_H_3)
        with Locations((-16.3, -15.3)):
            Rectangle(SKETCH_35_W_4, SKETCH_35_H_4)
    extrude(amount=-CUT_EXTRUDE_14_DEPTH, mode=Mode.SUBTRACT)

    # 圆角6
    fillet_6_edges = [part.edges().sort_by_distance(p)[0] for p in [
        (28, 4.6, 27),
        (-28, 4.6, 27),
        (-28, 4.6, -27),
        (28, 4.6, -27),
    ]]
    fillet(fillet_6_edges, radius=FILLET_6_R)


solid = part.part
